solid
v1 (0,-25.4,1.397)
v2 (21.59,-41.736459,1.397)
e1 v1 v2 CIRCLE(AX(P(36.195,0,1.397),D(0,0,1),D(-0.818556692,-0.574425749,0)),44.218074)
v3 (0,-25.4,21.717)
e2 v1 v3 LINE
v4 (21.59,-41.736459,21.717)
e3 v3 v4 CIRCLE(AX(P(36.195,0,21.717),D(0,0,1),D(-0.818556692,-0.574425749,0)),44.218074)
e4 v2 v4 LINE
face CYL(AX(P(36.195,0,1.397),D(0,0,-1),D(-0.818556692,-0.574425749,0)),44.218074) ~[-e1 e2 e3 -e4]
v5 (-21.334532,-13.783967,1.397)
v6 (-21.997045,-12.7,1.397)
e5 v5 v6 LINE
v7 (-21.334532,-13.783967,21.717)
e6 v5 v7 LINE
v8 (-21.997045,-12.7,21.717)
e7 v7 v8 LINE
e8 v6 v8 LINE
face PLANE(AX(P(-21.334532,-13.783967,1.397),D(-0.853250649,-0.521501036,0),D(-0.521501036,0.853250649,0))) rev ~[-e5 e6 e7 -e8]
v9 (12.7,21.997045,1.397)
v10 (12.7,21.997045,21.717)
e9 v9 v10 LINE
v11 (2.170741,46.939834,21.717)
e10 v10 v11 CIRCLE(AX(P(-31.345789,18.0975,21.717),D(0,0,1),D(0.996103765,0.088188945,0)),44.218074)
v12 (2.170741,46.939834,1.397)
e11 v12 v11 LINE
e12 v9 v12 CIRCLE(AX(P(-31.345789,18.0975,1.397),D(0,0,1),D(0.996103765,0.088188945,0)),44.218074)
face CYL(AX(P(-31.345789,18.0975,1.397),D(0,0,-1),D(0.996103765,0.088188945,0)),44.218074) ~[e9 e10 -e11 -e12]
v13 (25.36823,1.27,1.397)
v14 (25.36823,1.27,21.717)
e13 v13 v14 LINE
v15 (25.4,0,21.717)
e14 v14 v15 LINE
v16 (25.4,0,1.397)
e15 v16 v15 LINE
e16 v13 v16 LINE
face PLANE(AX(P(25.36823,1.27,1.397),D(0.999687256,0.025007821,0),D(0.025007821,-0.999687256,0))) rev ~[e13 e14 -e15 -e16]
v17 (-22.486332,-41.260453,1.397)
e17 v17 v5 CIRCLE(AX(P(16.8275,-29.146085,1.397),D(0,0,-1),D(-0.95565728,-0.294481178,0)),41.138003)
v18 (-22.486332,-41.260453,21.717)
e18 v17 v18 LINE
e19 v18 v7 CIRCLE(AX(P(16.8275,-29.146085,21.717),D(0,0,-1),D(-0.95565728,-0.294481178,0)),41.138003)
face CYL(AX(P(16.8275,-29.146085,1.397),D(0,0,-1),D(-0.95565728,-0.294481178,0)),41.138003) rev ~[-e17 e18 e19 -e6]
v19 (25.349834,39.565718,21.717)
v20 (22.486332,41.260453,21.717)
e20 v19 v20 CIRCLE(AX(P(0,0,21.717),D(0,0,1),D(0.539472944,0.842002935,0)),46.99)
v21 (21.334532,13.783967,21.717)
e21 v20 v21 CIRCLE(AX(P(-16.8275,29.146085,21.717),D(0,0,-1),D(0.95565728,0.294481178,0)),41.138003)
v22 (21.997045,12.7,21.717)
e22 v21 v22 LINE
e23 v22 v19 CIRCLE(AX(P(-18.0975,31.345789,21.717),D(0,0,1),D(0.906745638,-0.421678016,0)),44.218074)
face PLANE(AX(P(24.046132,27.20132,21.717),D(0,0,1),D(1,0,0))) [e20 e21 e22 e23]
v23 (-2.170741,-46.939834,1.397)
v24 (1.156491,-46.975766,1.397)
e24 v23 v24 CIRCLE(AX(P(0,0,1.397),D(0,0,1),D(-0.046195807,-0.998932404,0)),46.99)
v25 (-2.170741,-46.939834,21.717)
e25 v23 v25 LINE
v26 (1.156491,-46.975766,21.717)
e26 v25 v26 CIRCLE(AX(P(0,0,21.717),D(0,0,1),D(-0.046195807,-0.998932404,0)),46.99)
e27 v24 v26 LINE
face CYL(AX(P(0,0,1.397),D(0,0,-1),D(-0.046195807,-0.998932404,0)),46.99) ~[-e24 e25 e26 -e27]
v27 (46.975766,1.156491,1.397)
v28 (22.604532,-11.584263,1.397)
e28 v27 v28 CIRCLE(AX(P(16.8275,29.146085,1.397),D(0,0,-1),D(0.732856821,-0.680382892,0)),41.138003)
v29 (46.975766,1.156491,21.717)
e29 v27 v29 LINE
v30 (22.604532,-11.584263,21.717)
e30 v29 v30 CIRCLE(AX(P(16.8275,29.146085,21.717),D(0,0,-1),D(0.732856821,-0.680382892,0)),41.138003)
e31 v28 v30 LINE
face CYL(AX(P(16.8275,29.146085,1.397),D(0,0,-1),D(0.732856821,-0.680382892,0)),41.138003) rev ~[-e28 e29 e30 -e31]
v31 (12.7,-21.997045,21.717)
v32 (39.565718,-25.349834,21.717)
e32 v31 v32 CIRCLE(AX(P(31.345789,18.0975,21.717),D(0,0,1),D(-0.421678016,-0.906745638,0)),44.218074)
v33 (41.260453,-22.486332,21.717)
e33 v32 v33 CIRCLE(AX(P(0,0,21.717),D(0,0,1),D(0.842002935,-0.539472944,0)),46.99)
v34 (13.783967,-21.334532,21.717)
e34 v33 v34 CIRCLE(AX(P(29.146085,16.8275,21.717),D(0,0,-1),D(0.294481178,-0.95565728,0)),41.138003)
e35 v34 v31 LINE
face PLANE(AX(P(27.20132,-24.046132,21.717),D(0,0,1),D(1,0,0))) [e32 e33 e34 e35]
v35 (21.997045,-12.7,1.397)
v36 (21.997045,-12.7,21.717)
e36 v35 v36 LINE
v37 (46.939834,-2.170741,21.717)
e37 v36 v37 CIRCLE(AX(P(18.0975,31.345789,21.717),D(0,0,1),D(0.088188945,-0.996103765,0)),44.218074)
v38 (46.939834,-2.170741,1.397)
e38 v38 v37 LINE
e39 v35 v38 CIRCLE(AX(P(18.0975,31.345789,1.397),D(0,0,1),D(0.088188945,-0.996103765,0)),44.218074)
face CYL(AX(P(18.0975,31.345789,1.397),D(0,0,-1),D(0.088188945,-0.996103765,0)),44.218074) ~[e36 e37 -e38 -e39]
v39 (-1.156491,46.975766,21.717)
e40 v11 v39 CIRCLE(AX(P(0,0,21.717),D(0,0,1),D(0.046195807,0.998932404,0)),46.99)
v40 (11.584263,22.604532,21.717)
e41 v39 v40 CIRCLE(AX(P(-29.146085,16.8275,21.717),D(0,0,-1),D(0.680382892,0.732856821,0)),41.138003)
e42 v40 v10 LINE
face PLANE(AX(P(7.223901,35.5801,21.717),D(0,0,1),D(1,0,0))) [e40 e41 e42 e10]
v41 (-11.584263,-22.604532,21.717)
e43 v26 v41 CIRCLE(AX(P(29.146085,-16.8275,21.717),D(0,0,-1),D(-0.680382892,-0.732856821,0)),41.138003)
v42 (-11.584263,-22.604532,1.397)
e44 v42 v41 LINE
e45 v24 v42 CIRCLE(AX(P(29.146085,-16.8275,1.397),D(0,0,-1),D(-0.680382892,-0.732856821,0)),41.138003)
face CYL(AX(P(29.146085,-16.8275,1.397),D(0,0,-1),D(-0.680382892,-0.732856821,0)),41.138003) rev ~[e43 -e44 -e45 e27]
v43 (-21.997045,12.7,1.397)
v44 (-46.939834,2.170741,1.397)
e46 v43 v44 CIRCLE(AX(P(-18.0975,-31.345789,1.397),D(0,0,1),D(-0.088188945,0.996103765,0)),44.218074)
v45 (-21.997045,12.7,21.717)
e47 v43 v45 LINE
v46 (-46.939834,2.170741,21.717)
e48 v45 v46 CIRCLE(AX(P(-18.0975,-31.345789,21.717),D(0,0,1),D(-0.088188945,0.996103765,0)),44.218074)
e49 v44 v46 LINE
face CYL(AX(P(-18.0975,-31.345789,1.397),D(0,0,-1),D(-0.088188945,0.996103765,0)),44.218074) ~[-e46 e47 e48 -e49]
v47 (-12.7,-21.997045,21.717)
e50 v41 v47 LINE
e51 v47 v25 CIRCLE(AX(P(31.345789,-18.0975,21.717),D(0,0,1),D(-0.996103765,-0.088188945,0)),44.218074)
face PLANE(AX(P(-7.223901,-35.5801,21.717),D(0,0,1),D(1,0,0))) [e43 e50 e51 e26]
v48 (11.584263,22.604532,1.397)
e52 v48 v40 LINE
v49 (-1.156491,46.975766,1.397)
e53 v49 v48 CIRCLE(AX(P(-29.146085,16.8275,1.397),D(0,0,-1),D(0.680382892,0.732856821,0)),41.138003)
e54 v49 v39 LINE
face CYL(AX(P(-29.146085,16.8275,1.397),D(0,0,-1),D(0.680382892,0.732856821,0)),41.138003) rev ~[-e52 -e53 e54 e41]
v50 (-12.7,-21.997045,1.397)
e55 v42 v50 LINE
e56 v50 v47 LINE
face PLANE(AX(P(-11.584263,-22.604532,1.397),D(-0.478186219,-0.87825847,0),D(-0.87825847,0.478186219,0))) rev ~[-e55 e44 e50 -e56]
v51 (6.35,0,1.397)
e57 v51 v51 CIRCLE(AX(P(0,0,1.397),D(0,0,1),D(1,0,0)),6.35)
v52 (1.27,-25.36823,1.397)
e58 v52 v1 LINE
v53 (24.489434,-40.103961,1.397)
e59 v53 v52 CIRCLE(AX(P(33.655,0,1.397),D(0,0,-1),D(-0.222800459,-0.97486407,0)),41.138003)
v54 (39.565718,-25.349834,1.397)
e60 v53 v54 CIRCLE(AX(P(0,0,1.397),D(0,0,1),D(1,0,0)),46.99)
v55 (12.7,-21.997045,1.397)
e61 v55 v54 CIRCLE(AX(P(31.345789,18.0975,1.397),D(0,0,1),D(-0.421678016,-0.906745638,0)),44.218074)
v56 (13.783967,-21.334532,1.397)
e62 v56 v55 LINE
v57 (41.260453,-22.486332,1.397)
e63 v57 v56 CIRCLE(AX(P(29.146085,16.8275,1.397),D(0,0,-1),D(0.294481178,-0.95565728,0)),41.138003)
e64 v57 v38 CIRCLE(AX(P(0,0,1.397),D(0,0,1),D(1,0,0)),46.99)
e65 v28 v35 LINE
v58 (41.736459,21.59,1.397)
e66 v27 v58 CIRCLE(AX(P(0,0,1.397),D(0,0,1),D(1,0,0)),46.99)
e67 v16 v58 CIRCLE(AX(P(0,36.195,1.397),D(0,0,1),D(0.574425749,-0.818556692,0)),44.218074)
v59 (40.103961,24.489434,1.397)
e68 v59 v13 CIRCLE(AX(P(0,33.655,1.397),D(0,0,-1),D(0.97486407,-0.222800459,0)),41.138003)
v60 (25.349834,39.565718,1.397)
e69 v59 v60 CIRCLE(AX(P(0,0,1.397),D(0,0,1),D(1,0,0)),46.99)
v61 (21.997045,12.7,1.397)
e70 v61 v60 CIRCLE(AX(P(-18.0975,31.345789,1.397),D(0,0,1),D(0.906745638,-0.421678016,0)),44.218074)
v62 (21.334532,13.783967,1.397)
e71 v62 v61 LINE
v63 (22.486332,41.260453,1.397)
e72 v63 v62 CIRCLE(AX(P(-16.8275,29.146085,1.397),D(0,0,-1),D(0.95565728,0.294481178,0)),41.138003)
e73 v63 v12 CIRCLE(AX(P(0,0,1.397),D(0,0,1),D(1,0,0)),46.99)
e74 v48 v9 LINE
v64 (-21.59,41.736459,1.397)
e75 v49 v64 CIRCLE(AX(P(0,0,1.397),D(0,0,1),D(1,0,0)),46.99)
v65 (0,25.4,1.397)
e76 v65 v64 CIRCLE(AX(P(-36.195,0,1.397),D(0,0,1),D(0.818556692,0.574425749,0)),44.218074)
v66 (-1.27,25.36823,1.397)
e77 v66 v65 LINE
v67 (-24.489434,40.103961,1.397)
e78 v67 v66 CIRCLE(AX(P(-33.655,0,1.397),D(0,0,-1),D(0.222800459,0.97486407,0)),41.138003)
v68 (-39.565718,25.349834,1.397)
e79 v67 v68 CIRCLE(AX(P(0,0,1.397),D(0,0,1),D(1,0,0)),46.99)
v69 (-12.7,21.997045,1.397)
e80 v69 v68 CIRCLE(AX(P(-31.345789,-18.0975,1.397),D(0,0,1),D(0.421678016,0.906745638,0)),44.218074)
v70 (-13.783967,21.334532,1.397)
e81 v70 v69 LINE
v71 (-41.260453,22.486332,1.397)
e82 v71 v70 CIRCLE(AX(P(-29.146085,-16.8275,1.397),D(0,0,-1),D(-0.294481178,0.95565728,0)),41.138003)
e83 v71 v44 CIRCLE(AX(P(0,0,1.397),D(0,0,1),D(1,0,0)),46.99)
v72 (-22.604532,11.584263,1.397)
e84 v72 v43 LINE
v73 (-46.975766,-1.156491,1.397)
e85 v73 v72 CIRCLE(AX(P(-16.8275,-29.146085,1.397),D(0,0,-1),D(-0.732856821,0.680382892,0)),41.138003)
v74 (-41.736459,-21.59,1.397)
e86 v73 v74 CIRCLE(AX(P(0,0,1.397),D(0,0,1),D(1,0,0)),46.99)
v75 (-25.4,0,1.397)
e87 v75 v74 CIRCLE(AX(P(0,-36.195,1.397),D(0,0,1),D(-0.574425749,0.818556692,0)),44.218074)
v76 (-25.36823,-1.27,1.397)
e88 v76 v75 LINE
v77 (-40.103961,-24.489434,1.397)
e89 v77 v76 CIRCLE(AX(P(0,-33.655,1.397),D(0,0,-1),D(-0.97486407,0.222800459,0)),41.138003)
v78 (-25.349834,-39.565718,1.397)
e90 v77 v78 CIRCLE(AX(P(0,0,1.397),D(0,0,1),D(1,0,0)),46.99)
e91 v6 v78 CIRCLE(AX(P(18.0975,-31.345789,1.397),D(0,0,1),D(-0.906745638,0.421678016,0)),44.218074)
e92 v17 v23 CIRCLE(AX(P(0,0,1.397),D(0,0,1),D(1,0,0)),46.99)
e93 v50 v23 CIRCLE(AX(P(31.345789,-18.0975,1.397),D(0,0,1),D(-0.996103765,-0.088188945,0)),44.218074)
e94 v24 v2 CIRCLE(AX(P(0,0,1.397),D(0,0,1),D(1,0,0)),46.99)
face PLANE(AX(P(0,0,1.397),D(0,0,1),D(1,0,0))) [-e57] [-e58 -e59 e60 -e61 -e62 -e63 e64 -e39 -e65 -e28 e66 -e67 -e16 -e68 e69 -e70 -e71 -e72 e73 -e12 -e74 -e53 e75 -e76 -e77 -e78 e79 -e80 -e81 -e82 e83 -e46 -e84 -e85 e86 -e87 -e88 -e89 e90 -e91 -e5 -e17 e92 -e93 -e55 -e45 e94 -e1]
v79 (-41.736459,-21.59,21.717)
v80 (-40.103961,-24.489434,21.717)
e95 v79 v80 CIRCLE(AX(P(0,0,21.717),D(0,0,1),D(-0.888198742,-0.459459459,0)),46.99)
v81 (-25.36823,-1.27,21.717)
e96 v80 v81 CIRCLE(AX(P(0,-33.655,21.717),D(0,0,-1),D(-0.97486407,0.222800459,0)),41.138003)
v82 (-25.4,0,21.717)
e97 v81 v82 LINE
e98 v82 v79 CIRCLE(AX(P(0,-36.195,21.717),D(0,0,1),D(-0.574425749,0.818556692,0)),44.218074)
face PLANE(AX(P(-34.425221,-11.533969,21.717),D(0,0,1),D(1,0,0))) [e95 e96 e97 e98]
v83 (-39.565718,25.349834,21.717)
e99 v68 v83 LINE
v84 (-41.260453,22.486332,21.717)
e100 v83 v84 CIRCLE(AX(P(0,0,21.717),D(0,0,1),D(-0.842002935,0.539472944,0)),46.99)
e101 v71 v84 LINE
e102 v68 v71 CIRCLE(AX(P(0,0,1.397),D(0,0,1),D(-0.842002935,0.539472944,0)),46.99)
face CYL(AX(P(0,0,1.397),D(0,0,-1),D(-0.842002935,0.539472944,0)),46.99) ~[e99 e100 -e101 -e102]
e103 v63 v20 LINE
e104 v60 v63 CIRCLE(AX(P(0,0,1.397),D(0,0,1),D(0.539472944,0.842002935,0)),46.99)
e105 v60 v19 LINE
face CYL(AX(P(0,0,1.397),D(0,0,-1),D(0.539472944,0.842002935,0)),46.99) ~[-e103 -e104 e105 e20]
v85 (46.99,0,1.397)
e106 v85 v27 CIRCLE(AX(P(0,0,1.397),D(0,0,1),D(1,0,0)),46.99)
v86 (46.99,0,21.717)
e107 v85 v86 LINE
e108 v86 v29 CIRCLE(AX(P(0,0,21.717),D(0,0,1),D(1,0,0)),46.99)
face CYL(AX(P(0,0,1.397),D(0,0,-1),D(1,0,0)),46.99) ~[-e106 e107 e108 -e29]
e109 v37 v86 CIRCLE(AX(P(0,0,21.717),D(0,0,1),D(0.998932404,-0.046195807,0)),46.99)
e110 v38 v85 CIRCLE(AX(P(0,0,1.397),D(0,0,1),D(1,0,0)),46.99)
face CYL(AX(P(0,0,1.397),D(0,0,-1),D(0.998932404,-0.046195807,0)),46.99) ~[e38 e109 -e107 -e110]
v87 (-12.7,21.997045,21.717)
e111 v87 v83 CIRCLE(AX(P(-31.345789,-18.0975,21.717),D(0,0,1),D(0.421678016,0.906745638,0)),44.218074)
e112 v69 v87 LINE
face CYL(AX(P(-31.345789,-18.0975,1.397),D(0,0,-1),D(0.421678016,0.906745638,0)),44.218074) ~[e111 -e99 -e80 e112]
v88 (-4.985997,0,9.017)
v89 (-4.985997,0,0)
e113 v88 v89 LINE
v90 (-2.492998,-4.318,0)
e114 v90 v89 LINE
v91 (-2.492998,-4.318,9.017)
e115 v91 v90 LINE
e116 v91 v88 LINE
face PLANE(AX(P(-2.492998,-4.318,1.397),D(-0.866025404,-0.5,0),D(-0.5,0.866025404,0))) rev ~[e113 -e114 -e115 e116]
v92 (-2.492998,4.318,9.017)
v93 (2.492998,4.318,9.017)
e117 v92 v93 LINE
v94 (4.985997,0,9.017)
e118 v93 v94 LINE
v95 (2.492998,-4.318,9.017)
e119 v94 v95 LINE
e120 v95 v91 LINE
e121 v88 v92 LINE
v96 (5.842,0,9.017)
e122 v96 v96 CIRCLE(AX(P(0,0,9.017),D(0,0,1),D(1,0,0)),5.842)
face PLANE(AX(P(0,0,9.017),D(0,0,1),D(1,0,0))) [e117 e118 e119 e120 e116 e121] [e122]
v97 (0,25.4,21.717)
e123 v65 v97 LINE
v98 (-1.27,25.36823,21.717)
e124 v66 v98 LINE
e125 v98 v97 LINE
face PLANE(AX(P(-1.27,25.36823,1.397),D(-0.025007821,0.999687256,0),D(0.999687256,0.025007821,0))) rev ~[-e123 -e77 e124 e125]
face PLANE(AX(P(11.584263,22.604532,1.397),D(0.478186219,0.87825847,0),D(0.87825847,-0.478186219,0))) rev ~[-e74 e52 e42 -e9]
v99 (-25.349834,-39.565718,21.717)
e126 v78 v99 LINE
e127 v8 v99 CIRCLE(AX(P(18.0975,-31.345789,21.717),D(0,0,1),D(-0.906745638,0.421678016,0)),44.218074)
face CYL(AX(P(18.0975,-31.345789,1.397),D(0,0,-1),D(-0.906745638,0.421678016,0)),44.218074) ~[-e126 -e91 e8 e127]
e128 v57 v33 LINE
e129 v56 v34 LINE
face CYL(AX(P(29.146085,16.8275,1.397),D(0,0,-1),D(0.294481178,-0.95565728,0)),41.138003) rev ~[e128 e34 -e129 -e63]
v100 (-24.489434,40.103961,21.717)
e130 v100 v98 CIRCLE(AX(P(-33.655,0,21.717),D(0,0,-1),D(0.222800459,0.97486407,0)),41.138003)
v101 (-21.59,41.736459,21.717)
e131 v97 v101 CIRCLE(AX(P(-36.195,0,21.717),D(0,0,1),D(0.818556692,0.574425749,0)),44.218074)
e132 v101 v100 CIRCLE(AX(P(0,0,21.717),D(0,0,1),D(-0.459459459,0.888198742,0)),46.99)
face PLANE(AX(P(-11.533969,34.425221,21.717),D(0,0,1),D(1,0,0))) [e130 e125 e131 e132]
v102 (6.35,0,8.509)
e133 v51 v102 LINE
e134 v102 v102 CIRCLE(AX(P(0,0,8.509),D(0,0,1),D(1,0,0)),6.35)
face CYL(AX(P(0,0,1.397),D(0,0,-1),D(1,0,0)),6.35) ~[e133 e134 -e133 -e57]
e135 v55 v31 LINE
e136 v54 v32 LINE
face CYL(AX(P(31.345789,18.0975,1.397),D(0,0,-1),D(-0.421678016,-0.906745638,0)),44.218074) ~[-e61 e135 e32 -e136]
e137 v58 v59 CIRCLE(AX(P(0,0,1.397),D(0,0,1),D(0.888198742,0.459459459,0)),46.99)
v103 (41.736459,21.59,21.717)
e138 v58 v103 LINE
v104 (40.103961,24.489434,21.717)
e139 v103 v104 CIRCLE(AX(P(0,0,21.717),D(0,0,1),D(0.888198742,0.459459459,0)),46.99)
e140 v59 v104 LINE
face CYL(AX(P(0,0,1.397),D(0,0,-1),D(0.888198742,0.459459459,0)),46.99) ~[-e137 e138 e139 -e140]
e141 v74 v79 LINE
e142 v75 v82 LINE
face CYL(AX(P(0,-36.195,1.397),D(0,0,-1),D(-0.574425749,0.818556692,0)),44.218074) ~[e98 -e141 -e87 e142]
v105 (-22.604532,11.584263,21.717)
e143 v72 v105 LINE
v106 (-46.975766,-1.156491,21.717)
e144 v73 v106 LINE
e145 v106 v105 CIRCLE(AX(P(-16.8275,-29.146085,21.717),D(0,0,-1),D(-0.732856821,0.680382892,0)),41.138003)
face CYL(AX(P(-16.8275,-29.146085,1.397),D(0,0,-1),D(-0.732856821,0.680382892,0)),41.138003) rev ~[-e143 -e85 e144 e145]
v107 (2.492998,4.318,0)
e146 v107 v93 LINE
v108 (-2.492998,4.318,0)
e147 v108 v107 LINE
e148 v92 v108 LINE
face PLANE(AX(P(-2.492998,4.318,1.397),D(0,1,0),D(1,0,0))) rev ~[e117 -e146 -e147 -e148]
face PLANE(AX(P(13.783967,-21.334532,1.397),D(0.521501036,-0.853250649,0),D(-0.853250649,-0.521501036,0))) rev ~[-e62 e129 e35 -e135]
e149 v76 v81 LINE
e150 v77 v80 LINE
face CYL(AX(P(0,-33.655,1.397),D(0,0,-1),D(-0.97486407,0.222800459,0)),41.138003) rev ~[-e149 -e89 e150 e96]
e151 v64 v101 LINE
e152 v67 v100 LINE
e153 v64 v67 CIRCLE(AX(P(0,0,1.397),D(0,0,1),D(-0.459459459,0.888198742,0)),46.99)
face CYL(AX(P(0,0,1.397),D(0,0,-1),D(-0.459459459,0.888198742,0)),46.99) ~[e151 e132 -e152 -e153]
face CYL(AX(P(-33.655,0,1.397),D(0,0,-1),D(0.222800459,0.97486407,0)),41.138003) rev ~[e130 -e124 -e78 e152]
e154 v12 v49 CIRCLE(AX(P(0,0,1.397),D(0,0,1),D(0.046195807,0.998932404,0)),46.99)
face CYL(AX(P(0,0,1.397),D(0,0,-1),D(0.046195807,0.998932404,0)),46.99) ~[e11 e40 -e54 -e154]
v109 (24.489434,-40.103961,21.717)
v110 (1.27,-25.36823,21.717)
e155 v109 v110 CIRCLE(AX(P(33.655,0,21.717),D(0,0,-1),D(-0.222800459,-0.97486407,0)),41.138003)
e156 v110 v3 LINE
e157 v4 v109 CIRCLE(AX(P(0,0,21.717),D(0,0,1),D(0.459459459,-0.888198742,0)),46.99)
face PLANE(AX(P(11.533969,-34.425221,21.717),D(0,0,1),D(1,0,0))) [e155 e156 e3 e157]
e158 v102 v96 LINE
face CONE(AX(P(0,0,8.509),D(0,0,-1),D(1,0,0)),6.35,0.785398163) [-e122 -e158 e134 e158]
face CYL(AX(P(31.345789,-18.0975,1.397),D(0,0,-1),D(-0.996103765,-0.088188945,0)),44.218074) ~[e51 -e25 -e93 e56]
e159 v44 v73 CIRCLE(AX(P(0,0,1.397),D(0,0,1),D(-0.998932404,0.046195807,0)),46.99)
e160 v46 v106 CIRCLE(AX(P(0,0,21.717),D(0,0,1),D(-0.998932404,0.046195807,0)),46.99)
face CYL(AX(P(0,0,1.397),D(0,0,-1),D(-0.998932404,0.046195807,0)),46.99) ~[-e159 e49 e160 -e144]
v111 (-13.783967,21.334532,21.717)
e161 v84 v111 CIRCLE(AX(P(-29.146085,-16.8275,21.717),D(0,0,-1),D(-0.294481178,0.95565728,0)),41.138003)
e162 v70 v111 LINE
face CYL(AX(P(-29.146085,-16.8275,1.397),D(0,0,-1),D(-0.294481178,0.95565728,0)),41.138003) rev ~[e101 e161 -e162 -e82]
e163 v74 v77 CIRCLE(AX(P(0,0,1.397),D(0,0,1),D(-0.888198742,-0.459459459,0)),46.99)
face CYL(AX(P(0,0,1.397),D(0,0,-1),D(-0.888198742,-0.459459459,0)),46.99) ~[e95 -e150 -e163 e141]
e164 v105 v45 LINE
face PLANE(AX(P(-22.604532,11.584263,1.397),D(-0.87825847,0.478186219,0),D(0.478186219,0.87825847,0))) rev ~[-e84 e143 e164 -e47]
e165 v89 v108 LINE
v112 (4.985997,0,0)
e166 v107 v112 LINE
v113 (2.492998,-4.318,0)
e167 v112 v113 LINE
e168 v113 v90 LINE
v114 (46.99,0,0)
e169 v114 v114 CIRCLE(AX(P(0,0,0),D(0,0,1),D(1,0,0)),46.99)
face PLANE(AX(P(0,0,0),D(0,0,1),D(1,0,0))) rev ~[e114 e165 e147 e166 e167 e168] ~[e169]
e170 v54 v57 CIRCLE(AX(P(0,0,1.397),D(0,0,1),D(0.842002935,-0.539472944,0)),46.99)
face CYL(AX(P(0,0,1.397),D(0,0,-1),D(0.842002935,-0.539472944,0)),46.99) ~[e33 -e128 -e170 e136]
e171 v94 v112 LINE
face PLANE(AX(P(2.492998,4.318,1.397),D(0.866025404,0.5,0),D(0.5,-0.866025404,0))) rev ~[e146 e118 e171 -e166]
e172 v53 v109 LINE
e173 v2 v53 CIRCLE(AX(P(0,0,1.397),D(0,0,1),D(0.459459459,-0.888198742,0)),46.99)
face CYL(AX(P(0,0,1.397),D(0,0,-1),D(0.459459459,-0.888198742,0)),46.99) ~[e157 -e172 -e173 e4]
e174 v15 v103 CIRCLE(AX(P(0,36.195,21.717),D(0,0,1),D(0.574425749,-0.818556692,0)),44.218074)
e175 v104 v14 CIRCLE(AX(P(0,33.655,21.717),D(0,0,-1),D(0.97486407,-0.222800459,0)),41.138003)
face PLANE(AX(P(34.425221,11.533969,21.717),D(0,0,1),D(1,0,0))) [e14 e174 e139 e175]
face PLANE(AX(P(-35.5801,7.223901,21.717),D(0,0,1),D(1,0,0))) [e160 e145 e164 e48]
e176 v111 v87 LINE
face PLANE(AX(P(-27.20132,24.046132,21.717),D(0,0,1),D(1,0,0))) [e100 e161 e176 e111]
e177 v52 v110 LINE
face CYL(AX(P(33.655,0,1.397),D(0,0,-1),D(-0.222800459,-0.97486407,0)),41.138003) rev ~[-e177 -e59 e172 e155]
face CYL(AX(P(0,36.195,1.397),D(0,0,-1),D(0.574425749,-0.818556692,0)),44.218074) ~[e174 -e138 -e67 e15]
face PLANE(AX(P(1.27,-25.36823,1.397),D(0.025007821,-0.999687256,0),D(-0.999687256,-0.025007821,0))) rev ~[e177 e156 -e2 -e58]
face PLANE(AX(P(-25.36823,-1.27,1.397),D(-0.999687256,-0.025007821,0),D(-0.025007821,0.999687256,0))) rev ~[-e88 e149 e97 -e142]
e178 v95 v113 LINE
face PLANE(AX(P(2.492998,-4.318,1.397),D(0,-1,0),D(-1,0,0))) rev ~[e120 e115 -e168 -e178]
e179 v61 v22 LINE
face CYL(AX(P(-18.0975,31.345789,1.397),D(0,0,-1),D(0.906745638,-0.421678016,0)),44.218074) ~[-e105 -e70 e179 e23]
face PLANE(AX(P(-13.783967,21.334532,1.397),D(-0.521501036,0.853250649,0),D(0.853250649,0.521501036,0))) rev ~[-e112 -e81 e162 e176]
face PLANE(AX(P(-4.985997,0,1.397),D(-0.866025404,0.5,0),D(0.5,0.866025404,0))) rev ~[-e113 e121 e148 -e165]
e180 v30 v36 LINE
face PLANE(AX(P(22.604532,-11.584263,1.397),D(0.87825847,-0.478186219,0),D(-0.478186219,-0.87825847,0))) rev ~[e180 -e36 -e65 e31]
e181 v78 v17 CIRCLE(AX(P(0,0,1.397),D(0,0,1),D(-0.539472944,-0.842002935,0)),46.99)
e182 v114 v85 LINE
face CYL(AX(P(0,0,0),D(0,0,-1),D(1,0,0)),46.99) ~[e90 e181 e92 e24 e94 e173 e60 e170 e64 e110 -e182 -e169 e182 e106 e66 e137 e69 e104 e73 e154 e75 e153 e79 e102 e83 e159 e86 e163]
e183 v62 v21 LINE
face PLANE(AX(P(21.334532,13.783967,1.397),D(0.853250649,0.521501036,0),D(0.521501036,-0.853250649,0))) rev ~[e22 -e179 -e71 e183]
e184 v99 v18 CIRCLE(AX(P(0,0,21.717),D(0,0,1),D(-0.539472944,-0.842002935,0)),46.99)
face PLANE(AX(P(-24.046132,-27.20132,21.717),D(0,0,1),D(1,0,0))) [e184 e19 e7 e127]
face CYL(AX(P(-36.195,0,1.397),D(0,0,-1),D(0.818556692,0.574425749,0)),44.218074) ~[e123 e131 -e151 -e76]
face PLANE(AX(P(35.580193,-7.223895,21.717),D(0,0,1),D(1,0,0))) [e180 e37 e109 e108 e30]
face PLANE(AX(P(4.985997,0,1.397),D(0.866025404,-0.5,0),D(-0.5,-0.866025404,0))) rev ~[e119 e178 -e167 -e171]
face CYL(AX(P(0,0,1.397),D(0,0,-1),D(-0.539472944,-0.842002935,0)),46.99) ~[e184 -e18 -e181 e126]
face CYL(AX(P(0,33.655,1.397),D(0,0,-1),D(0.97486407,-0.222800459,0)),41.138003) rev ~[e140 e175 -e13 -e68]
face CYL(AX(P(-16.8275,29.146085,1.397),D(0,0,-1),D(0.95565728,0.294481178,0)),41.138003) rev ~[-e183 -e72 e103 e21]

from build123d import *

# Parameters (mm, degrees)
F0_R     = 46.99
F1_DEPTH = 1.397
F3_DEPTH = 25.4
F4_R     = 6.35
F5_DEPTH = 7.62
F6_SIZE  = 0.508
F8_DEPTH = 20.32


with BuildPart() as f1:
    # F0 (on Top) → F1 (new body)
    with BuildSketch(Plane.XY):
        Circle(F0_R)
    extrude(amount=F1_DEPTH)

    # F2 (on face) → F3 (cut)
    with BuildSketch(Plane(origin=(0, 0, 0), x_dir=(1, 0, 0), z_dir=(0, 0, -1))):
        Polygon((2.4929984624, 4.318), (-2.4929984624, 4.318), (-4.9859969247, 0), (-2.4929984624, -4.318), (2.4929984624, -4.318), (4.9859969247, 0), align=None)
    extrude(amount=-F3_DEPTH, mode=Mode.SUBTRACT)

    # F4 (on face) → F5 (join)
    with BuildSketch(Plane.XY.offset(1.397)):
        Circle(F4_R)
        Polygon((2.4929984624, 4.318), (4.9859969247, 0), (2.4929984624, -4.318), (-2.4929984624, -4.318), (-4.9859969247, 0), (-2.4929984624, 4.318), align=None, mode=Mode.SUBTRACT)
    extrude(amount=F5_DEPTH)

    # F6
    f6_edges = [f1.edges().sort_by_distance(p)[0] for p in [
        (-6.35, 0, 9.017),
    ]]
    chamfer(f6_edges, length=F6_SIZE)

    # F7 (on face) → F8 (join)
    with BuildSketch(Plane.XY.offset(1.397)):
        with BuildLine():
            ThreePointArc((25.4, 0), (35.2612826312, 9.5139210825), (41.7364588819, 21.59))
            ThreePointArc((41.7364588819, 21.59), (40.9458823261, 23.0541714346), (40.1039614528, 24.4894339623))
            ThreePointArc((40.1039614528, 24.4894339623), (34.7338091215, 11.6119097242), (25.3682301314, 1.27))
            Line((25.3682301314, 1.27), (25.4, 0))
        make_face()
        with BuildLine():
            ThreePointArc((21.9970452561, 12.7), (25.7802059874, 25.8699386627), (25.3498336557, 39.5657179087))
            ThreePointArc((25.3498336557, 39.5657179087), (23.9330885575, 40.4384392886), (22.4863324294, 41.260452662))
            ThreePointArc((22.4863324294, 41.260452662), (24.2744062074, 27.4231133684), (21.3345317428, 13.7839673285))
            Line((21.3345317428, 13.7839673285), (21.9970452561, 12.7))
        make_face()
        with BuildLine():
            ThreePointArc((12.7, 21.9970452561), (9.3913439685, 35.2941270699), (2.1707409732, 46.9398336557))
            ThreePointArc((2.1707409732, 46.9398336557), (0.5074430375, 46.9872599921), (-1.1564912092, 46.9757663917))
            ThreePointArc((-1.1564912092, 46.9757663917), (7.3106957532, 35.8863159315), (11.5842628029, 22.6045317428))
            Line((11.5842628029, 22.6045317428), (12.7, 21.9970452561))
        make_face()
        with BuildLine():
            ThreePointArc((0, 25.4), (-9.5139210825, 35.2612826312), (-21.59, 41.7364588819))
            ThreePointArc((-21.59, 41.7364588819), (-23.0541714346, 40.9458823261), (-24.4894339623, 40.1039614528))
            ThreePointArc((-24.4894339623, 40.1039614528), (-11.6119097242, 34.7338091215), (-1.27, 25.3682301314))
            Line((-1.27, 25.3682301314), (0, 25.4))
        make_face()
        with BuildLine():
            ThreePointArc((-12.7, 21.9970452561), (-25.8699386627, 25.7802059874), (-39.5657179087, 25.3498336557))
            ThreePointArc((-39.5657179087, 25.3498336557), (-40.4384392886, 23.9330885575), (-41.260452662, 22.4863324294))
            ThreePointArc((-41.260452662, 22.4863324294), (-27.4231133684, 24.2744062074), (-13.7839673285, 21.3345317428))
            Line((-13.7839673285, 21.3345317428), (-12.7, 21.9970452561))
        make_face()
        with BuildLine():
            ThreePointArc((-21.9970452561, 12.7), (-35.2941270699, 9.3913439685), (-46.9398336557, 2.1707409732))
            ThreePointArc((-46.9398336557, 2.1707409732), (-46.9872599921, 0.5074430375), (-46.9757663917, -1.1564912092))
            ThreePointArc((-46.9757663917, -1.1564912092), (-35.8863159315, 7.3106957532), (-22.6045317428, 11.5842628029))
            Line((-22.6045317428, 11.5842628029), (-21.9970452561, 12.7))
        make_face()
        with BuildLine():
            ThreePointArc((-41.7364588819, -21.59), (-40.9458823261, -23.0541714346), (-40.1039614528, -24.4894339623))
            ThreePointArc((-40.1039614528, -24.4894339623), (-34.7338091215, -11.6119097242), (-25.3682301314, -1.27))
            Line((-25.3682301314, -1.27), (-25.4, 0))
            ThreePointArc((-25.4, 0), (-35.2612826312, -9.5139210825), (-41.7364588819, -21.59))
        make_face()
        with BuildLine():
            ThreePointArc((-25.3498336557, -39.5657179087), (-23.9330885575, -40.4384392886), (-22.4863324294, -41.260452662))
            ThreePointArc((-22.4863324294, -41.260452662), (-24.2744062074, -27.4231133684), (-21.3345317428, -13.7839673285))
            Line((-21.3345317428, -13.7839673285), (-21.9970452561, -12.7))
            ThreePointArc((-21.9970452561, -12.7), (-25.7802059874, -25.8699386627), (-25.3498336557, -39.5657179087))
        make_face()
        with BuildLine():
            ThreePointArc((-2.1707409732, -46.9398336557), (-0.5074430375, -46.9872599921), (1.1564912092, -46.9757663917))
            ThreePointArc((1.1564912092, -46.9757663917), (-7.3106957532, -35.8863159315), (-11.5842628029, -22.6045317428))
            Line((-11.5842628029, -22.6045317428), (-12.7, -21.9970452561))
            ThreePointArc((-12.7, -21.9970452561), (-9.3913439685, -35.2941270699), (-2.1707409732, -46.9398336557))
        make_face()
        with BuildLine():
            ThreePointArc((21.59, -41.7364588819), (23.0541714346, -40.9458823261), (24.4894339623, -40.1039614528))
            ThreePointArc((24.4894339623, -40.1039614528), (11.6119097242, -34.7338091215), (1.27, -25.3682301314))
            Line((1.27, -25.3682301314), (0, -25.4))
            ThreePointArc((0, -25.4), (9.5139210825, -35.2612826312), (21.59, -41.7364588819))
        make_face()
        with BuildLine():
            ThreePointArc((39.5657179087, -25.3498336557), (40.4384392886, -23.9330885575), (41.260452662, -22.4863324294))
            ThreePointArc((41.260452662, -22.4863324294), (27.4231133684, -24.2744062074), (13.7839673285, -21.3345317428))
            Line((13.7839673285, -21.3345317428), (12.7, -21.9970452561))
            ThreePointArc((12.7, -21.9970452561), (25.8699386627, -25.7802059874), (39.5657179087, -25.3498336557))
        make_face()
        with BuildLine():
            ThreePointArc((46.99, 0), (46.9864414632, 0.5782893983), (46.9757663917, 1.1564912092))
            ThreePointArc((46.9757663917, 1.1564912092), (35.8863159315, -7.3106957532), (22.6045317428, -11.5842628029))
            Line((22.6045317428, -11.5842628029), (21.9970452561, -12.7))
            ThreePointArc((21.9970452561, -12.7), (35.2941270699, -9.3913439685), (46.9398336557, -2.1707409732))
            ThreePointArc((46.9398336557, -2.1707409732), (46.9774567398, -1.085660287), (46.99, 0))
        make_face()
    extrude(amount=F8_DEPTH)


solid = f1.part
